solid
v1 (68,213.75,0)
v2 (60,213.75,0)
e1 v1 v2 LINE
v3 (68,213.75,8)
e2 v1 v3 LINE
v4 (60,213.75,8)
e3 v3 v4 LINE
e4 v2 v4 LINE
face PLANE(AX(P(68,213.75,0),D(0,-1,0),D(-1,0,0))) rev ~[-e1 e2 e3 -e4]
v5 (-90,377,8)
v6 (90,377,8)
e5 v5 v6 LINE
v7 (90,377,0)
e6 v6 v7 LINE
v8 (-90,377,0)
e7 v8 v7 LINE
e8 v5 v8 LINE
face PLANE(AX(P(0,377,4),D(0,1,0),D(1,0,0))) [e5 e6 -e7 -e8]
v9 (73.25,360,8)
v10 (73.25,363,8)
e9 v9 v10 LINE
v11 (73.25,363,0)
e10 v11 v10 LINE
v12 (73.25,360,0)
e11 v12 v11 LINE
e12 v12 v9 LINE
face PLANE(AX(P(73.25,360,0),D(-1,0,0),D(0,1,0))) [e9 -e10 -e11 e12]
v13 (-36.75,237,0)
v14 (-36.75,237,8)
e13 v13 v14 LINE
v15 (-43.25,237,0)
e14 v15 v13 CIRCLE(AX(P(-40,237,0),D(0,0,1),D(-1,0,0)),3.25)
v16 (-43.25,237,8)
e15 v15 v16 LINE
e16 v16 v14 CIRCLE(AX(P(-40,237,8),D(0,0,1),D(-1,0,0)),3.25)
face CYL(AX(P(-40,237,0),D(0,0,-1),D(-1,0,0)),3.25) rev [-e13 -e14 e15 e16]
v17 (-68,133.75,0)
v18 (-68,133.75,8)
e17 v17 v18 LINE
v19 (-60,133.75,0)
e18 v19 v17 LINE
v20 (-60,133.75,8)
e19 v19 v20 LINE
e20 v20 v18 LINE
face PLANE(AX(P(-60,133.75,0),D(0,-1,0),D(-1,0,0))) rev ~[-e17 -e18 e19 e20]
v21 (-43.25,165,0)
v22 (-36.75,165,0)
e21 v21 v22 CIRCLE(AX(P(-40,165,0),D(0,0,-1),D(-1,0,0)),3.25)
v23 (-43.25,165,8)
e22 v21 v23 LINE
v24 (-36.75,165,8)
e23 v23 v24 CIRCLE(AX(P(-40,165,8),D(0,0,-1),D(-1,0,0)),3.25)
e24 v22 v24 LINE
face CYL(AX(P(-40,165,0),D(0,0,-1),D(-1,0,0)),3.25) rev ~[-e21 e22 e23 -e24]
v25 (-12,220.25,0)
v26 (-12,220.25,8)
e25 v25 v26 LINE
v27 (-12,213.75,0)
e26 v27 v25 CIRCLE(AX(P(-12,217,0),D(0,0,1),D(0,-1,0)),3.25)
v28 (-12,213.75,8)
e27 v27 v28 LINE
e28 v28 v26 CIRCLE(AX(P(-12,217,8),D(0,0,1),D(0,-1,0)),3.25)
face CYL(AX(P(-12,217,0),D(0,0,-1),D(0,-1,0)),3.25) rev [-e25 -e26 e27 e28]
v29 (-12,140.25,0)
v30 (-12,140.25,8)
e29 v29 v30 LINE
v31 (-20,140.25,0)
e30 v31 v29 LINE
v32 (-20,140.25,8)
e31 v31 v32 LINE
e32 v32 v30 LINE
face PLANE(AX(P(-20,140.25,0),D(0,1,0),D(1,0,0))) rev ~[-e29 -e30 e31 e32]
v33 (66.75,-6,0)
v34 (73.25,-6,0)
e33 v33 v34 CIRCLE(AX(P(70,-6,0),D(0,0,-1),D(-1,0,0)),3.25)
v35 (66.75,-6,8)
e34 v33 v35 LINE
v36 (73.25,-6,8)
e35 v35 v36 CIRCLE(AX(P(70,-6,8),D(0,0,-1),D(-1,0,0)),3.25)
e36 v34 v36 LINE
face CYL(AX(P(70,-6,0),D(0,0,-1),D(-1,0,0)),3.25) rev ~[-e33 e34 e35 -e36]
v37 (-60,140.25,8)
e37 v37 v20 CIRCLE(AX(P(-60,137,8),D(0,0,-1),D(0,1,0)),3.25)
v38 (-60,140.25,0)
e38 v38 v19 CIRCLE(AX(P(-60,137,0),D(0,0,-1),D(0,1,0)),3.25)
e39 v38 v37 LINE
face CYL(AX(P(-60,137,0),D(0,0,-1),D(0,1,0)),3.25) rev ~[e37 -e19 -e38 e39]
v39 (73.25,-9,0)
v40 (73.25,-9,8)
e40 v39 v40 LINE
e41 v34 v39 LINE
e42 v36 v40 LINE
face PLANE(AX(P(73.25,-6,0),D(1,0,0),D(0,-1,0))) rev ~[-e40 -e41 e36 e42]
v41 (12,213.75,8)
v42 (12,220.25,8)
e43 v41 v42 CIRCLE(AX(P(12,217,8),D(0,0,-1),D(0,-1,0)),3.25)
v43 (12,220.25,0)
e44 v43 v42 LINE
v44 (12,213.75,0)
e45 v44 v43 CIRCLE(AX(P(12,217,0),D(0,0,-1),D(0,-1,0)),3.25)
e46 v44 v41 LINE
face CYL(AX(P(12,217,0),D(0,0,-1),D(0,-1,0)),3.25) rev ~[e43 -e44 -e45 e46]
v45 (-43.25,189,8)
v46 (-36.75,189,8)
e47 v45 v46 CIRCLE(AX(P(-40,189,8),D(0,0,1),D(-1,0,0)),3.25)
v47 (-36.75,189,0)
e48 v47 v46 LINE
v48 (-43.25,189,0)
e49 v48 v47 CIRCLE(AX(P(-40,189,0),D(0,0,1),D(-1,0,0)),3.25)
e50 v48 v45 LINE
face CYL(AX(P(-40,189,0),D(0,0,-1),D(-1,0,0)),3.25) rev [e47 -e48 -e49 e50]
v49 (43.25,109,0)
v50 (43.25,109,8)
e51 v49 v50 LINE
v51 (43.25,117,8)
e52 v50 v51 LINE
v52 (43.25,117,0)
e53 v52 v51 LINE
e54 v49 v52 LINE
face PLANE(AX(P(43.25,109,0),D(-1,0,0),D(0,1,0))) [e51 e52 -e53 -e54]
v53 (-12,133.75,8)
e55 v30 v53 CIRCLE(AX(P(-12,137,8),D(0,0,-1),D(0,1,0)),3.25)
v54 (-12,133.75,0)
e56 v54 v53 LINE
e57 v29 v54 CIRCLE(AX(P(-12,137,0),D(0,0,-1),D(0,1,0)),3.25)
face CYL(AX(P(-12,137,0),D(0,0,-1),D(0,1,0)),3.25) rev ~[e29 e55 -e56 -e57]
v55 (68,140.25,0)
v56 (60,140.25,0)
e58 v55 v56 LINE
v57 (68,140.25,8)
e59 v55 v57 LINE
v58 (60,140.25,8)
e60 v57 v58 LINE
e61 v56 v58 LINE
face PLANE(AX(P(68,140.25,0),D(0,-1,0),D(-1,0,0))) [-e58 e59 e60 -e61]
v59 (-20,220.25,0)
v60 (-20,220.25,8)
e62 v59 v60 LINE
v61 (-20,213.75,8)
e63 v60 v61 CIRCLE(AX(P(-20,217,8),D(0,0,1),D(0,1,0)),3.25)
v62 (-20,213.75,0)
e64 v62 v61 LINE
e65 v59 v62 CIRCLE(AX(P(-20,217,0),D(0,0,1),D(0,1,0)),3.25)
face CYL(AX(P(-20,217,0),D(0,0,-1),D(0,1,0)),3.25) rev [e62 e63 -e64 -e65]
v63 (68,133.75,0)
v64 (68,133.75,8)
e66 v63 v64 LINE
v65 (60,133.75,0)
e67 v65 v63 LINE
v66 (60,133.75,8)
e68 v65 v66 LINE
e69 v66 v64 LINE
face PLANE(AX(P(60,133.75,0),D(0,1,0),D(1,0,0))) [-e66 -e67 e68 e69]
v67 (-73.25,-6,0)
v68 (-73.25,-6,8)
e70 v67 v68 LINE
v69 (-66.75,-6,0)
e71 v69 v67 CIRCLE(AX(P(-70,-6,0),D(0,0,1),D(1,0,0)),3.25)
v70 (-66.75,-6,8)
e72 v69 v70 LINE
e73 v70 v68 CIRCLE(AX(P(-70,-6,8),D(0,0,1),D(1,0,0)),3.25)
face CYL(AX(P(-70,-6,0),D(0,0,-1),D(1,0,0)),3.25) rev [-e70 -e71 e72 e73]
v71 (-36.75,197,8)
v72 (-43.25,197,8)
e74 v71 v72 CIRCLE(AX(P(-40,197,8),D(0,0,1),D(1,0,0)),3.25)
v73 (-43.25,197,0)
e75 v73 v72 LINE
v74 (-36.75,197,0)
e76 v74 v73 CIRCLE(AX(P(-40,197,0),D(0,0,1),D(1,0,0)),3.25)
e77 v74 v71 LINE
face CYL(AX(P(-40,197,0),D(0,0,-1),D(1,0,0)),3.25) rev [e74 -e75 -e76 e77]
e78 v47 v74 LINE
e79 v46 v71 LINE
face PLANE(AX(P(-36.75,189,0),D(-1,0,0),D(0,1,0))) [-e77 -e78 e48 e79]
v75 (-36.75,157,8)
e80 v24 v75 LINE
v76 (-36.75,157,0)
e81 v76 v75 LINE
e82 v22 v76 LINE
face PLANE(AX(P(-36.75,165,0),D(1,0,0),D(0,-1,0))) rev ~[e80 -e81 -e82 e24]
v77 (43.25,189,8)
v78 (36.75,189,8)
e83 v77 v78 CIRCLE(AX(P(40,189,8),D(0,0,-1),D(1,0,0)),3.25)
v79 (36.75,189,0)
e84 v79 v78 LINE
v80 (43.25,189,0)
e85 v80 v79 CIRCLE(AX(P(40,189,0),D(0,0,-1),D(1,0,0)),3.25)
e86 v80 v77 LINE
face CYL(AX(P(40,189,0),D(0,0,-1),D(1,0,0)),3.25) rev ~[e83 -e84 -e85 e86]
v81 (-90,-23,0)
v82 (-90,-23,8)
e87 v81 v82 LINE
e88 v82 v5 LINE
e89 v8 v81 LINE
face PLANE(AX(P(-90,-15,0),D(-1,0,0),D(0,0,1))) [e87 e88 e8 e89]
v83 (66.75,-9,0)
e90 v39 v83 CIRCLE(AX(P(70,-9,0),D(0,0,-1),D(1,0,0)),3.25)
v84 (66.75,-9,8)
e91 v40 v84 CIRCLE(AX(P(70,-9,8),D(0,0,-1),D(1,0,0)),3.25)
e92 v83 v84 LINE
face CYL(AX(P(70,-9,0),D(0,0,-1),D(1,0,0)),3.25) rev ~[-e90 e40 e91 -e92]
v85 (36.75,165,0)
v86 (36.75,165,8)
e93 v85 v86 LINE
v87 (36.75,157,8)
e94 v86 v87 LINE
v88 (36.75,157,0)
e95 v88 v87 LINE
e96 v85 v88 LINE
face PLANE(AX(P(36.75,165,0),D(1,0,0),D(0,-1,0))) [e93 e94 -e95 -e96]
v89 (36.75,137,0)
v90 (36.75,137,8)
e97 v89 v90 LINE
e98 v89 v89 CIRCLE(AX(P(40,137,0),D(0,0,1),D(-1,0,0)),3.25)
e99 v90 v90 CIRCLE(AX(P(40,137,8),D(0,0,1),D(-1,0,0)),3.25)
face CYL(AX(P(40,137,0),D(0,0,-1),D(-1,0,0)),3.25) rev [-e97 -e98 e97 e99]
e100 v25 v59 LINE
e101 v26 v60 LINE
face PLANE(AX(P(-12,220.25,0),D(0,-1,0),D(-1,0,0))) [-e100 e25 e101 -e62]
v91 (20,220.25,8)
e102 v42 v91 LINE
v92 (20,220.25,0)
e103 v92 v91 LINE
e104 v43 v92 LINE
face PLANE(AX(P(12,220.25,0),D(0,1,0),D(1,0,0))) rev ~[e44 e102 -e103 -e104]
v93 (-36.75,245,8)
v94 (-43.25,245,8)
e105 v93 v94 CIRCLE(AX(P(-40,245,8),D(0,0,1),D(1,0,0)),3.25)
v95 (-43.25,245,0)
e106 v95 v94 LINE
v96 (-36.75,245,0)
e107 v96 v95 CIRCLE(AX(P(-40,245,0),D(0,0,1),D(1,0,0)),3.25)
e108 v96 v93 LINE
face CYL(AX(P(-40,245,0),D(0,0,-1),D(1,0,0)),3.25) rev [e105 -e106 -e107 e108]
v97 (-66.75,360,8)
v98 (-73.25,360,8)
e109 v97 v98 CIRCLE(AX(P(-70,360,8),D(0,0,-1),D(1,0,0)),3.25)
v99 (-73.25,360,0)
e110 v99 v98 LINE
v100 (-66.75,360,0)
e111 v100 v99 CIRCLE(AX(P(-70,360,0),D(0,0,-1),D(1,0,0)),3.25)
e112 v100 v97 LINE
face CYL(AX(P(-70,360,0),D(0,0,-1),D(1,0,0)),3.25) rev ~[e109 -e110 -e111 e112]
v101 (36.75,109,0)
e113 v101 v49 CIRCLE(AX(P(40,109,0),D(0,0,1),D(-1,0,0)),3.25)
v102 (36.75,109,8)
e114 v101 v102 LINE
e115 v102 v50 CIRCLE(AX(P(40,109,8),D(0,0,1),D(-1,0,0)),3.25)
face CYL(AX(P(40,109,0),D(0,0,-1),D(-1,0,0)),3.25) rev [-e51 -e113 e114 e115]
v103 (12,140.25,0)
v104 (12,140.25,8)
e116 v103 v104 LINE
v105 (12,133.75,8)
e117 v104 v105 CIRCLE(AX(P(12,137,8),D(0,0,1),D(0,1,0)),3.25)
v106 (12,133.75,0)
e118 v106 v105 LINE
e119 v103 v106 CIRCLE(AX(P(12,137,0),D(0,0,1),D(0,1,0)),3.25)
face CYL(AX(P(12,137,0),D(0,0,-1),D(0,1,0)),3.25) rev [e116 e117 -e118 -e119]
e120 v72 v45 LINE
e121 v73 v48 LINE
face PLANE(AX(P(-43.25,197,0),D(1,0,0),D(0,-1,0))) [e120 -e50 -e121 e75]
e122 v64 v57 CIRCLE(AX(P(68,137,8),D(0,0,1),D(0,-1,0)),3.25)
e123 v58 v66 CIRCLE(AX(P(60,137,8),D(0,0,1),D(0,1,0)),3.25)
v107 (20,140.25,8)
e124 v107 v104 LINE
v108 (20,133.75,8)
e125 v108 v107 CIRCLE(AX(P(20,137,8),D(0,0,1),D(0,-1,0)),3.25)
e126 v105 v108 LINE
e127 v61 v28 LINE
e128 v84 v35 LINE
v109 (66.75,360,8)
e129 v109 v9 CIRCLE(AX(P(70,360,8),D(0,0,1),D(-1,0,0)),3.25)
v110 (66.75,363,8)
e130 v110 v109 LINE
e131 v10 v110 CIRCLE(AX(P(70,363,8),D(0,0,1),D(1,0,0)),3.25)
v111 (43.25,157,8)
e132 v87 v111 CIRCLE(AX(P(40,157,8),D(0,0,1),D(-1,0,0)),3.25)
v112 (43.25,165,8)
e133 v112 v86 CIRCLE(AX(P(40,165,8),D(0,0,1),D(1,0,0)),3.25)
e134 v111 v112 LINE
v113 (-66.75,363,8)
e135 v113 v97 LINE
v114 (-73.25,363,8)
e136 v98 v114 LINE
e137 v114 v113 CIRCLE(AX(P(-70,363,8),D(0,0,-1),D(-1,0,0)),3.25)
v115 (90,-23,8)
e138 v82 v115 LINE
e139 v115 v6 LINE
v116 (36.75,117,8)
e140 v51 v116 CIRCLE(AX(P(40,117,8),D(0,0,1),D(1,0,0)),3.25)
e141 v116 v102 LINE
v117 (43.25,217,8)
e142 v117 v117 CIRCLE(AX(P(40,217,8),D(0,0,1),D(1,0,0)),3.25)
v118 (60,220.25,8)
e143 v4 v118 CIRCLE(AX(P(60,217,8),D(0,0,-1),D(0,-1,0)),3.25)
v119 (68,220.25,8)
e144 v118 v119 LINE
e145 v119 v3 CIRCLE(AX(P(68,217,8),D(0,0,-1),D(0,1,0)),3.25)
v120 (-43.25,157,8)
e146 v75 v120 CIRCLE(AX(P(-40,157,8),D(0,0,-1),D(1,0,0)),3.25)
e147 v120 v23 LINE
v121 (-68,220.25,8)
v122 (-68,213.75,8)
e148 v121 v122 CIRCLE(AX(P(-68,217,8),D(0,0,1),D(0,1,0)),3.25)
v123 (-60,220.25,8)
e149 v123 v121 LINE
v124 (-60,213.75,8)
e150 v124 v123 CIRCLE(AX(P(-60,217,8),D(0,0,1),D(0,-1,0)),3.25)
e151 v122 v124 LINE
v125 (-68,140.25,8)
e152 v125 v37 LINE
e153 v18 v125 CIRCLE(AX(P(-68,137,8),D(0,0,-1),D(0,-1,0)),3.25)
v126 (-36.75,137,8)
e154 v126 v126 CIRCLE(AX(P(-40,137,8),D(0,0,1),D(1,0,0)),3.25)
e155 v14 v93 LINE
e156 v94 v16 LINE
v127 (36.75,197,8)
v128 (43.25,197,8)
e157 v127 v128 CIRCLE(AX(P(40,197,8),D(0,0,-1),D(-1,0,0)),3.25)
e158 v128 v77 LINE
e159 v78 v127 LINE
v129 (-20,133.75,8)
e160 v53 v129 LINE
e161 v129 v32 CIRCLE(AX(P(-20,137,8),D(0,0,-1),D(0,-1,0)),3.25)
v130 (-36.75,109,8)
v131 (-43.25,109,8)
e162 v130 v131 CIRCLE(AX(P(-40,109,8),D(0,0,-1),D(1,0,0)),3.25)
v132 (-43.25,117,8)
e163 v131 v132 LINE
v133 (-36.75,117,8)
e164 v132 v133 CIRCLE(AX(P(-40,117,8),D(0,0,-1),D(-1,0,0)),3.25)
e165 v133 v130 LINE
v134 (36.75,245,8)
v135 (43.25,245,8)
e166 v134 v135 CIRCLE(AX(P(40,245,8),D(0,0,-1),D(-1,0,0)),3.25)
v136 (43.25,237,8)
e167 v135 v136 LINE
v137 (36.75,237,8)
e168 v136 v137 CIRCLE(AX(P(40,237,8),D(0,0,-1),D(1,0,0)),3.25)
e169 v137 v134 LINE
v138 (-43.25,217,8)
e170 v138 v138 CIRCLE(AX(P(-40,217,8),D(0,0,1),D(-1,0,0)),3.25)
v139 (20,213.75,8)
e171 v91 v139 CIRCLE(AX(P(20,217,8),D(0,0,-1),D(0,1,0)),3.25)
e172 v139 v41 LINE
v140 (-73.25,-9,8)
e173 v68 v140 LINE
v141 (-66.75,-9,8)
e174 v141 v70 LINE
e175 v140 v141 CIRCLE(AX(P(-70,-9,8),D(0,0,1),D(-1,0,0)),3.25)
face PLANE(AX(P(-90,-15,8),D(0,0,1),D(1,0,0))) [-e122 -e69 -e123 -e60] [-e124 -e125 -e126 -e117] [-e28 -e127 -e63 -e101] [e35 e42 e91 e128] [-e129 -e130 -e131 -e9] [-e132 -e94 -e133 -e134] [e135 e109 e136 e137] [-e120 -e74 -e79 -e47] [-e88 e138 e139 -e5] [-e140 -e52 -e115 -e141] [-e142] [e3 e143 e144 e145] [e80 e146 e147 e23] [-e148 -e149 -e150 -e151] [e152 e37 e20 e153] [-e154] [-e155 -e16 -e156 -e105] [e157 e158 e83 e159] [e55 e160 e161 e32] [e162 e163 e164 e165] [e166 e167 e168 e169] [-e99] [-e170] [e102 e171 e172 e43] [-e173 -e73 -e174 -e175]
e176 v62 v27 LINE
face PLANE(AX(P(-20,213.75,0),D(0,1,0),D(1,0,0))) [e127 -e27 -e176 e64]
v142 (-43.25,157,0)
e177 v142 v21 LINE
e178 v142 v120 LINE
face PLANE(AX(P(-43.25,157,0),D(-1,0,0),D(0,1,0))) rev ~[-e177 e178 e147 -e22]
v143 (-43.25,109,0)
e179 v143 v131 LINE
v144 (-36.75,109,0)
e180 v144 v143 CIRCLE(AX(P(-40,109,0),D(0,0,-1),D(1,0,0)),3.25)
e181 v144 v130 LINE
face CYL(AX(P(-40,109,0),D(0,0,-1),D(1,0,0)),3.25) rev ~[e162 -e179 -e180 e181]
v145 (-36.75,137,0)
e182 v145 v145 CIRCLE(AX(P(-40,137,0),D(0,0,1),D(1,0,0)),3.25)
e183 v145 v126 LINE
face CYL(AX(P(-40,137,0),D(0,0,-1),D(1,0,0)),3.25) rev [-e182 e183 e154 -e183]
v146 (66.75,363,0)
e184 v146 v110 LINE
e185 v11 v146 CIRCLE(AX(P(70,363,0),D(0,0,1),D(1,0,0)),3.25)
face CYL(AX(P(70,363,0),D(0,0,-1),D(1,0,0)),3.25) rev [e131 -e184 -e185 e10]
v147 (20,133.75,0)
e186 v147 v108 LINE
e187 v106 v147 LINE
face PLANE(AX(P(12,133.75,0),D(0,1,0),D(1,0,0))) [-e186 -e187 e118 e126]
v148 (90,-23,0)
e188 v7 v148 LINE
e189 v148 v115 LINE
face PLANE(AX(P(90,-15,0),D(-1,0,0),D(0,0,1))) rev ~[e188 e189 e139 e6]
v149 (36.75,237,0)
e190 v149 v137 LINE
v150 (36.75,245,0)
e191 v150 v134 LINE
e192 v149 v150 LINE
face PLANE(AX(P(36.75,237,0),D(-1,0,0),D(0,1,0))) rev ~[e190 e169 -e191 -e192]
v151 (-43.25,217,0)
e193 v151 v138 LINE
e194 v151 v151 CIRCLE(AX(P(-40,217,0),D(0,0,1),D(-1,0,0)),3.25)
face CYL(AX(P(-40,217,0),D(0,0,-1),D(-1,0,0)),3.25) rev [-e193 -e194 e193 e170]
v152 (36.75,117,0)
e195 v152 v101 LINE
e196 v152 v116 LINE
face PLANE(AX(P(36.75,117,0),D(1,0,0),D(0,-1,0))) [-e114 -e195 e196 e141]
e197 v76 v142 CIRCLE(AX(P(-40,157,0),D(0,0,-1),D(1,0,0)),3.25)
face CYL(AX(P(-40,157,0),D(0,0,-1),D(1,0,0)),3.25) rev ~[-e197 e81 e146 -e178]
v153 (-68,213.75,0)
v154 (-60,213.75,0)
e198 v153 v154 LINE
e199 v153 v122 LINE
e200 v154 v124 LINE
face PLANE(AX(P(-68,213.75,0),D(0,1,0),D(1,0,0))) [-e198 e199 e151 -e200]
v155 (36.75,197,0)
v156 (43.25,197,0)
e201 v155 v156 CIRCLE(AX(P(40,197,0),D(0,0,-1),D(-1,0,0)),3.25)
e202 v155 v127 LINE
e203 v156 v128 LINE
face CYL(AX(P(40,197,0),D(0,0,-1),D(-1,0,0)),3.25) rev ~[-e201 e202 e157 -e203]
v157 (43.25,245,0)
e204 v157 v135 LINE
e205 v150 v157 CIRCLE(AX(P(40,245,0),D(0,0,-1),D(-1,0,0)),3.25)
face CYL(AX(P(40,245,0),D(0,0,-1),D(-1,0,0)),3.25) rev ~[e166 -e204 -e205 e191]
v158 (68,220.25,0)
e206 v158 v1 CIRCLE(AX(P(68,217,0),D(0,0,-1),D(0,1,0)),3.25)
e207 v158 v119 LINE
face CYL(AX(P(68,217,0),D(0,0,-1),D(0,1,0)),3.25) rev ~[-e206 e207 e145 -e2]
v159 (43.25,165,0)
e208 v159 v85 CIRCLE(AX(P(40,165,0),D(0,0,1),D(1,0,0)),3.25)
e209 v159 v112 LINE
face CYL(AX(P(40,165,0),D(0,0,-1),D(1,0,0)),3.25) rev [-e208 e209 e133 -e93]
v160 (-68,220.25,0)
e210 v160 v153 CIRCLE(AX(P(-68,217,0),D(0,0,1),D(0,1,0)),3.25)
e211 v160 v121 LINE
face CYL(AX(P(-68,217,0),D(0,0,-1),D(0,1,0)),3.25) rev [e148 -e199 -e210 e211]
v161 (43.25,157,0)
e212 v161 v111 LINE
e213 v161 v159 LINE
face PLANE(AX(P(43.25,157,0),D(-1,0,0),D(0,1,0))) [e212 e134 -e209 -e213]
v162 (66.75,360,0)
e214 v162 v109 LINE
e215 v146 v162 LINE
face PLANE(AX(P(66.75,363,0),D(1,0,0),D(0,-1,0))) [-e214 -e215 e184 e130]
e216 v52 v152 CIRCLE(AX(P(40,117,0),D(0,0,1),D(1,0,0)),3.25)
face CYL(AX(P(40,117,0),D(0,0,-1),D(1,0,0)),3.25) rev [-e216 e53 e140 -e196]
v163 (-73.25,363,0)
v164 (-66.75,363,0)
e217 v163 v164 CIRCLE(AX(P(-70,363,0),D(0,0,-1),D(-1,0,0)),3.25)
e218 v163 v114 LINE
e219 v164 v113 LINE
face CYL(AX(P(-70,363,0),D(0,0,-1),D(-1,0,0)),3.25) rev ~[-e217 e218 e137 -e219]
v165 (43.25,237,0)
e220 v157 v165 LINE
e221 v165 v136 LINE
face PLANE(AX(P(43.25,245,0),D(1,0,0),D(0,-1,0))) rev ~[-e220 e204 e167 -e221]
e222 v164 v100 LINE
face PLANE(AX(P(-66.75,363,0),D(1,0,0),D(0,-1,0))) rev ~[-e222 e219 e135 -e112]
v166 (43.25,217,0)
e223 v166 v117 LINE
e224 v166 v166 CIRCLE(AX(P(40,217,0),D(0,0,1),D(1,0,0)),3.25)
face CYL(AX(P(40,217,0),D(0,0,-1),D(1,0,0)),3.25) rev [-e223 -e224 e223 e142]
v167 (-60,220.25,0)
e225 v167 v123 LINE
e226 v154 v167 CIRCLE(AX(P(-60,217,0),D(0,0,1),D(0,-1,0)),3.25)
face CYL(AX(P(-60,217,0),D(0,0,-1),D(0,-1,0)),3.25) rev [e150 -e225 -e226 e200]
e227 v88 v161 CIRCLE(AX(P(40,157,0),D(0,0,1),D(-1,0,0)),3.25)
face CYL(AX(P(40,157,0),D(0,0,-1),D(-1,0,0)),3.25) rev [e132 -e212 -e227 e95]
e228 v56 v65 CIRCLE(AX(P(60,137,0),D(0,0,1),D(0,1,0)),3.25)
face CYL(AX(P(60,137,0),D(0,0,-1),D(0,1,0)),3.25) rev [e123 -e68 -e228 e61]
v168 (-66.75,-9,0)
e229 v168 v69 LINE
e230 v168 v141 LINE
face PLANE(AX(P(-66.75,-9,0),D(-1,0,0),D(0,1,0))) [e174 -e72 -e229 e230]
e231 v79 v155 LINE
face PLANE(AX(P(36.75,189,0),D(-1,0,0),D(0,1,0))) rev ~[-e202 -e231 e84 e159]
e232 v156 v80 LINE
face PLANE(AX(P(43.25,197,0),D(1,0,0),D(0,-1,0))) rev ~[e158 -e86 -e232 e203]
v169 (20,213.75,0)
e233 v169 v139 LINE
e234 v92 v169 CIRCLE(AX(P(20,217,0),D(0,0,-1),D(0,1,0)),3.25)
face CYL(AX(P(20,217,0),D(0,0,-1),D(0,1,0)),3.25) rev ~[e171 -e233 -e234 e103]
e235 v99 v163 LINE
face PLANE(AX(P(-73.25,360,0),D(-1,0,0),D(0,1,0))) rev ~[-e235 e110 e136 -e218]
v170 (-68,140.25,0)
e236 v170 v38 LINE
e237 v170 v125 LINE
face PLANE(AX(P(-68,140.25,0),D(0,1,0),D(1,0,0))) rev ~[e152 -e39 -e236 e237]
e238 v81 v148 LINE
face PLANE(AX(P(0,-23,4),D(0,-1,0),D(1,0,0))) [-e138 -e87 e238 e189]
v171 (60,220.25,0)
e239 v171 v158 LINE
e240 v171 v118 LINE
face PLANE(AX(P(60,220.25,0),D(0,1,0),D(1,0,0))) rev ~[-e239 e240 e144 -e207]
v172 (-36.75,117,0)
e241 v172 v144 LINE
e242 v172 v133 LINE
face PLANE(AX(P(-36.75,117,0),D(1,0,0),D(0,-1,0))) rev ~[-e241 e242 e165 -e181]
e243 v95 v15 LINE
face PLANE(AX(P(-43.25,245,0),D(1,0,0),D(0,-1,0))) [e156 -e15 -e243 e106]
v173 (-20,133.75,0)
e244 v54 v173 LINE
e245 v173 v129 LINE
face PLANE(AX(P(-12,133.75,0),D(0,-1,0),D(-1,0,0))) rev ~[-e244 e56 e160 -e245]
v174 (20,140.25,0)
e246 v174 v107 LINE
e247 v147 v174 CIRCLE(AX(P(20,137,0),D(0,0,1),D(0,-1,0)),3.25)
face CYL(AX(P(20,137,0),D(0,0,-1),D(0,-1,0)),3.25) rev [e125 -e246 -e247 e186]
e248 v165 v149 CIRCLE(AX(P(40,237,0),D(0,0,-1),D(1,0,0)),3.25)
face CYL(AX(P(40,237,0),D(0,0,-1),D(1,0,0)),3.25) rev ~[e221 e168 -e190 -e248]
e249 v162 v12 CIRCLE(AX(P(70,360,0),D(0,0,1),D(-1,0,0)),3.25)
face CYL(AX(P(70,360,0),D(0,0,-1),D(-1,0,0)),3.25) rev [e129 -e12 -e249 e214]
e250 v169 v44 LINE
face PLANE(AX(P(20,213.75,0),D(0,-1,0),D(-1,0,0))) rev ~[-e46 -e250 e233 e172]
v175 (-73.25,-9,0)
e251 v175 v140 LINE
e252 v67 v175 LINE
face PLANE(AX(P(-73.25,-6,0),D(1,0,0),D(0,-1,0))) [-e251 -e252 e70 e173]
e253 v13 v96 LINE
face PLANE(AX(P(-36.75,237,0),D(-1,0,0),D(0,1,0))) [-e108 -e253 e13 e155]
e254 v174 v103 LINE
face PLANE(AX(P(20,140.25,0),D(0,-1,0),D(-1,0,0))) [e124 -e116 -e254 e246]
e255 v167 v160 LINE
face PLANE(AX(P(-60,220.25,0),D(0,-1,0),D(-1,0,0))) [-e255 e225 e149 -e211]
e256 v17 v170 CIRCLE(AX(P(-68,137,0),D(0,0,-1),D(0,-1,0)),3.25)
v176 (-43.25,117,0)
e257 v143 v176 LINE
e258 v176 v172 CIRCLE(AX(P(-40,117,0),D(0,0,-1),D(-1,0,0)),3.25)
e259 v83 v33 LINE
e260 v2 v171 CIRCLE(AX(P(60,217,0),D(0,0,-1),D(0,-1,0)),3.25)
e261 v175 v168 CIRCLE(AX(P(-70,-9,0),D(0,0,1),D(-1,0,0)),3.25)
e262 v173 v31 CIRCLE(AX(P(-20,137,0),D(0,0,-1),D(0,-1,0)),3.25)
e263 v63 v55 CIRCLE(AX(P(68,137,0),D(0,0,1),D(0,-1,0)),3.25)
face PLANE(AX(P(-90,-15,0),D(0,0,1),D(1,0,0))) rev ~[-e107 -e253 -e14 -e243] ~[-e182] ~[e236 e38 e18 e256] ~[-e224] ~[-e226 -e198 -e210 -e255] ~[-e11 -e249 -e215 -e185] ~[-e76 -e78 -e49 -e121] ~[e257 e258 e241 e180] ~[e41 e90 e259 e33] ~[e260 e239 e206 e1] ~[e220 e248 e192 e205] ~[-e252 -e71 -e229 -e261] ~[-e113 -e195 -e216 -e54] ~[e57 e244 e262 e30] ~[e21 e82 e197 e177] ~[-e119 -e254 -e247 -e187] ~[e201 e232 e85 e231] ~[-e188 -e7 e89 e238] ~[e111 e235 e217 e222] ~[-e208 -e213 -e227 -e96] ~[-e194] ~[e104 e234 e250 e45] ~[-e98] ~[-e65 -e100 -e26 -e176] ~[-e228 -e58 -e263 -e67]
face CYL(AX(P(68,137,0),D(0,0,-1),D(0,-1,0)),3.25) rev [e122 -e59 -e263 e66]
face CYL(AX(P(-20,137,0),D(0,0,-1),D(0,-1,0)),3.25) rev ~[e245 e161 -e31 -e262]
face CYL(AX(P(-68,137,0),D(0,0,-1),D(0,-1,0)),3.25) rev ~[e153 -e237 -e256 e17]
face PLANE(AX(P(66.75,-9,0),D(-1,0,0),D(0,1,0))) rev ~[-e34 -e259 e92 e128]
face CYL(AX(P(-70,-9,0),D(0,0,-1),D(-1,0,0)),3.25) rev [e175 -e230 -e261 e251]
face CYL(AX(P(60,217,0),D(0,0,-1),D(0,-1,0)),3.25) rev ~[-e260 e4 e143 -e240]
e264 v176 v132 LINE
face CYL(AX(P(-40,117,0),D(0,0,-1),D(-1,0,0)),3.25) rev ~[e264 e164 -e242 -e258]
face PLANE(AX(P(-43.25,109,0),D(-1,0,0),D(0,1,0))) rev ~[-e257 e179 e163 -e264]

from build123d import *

# Parameters (mm, degrees)
SKETCH_1_W      = 180
SKETCH_1_H      = 384
SKETCH_1_R      = 3.25
EXTRUDE_1_DEPTH = 8
SKETCH_2_W      = 180
SKETCH_2_H      = 8
EXTRUDE_2_DEPTH = 8
SKETCH_3_W      = 180
SKETCH_3_H      = 8
EXTRUDE_3_DEPTH = 8


with BuildPart() as part:
    # 草图1 → 凸台-拉伸1 (new body)
    with BuildSketch(Plane.XY):
        with Locations((0, 177)):
            Rectangle(SKETCH_1_W, SKETCH_1_H)
        with Locations((40, 217)):
            Circle(SKETCH_1_R, mode=Mode.SUBTRACT)
        with Locations(Location((-40, 217, 0), (0, 0, 180))):
            Circle(SKETCH_1_R, mode=Mode.SUBTRACT)
        with Locations(Location((40, 137, 0), (0, 0, 180))):
            Circle(SKETCH_1_R, mode=Mode.SUBTRACT)
        with Locations((-40, 137)):
            Circle(SKETCH_1_R, mode=Mode.SUBTRACT)
        with BuildLine():
            Line((-73.25, 360), (-73.25, 363))
            ThreePointArc((-73.25, 363), (-70, 366.25), (-66.75, 363))
            Line((-66.75, 363), (-66.75, 360))
            ThreePointArc((-66.75, 360), (-70, 356.75), (-73.25, 360))
        make_face(mode=Mode.SUBTRACT)
        with BuildLine():
            Line((73.25, 360), (73.25, 363))
            ThreePointArc((73.25, 363), (70, 366.25), (66.75, 363))
            Line((66.75, 363), (66.75, 360))
            ThreePointArc((66.75, 360), (70, 356.75), (73.25, 360))
        make_face(mode=Mode.SUBTRACT)
        with BuildLine():
            Line((-73.25, -6), (-73.25, -9))
            ThreePointArc((-73.25, -9), (-70, -12.25), (-66.75, -9))
            Line((-66.75, -9), (-66.75, -6))
            ThreePointArc((-66.75, -6), (-70, -2.75), (-73.25, -6))
        make_face(mode=Mode.SUBTRACT)
        with BuildLine():
            Line((73.25, -6), (73.25, -9))
            ThreePointArc((73.25, -9), (70, -12.25), (66.75, -9))
            Line((66.75, -9), (66.75, -6))
            ThreePointArc((66.75, -6), (70, -2.75), (73.25, -6))
        make_face(mode=Mode.SUBTRACT)
        with BuildLine():
            Line((12, 220.25), (20, 220.25))
            ThreePointArc((20, 220.25), (23.25, 217), (20, 213.75))
            Line((20, 213.75), (12, 213.75))
            ThreePointArc((12, 213.75), (8.75, 217), (12, 220.25))
        make_face(mode=Mode.SUBTRACT)
        with BuildLine():
            Line((43.25, 245), (43.25, 237))
            ThreePointArc((43.25, 237), (40, 233.75), (36.75, 237))
            Line((36.75, 237), (36.75, 245))
            ThreePointArc((36.75, 245), (40, 248.25), (43.25, 245))
        make_face(mode=Mode.SUBTRACT)
        with BuildLine():
            Line((-43.25, 245), (-43.25, 237))
            ThreePointArc((-43.25, 237), (-40, 233.75), (-36.75, 237))
            Line((-36.75, 237), (-36.75, 245))
            ThreePointArc((-36.75, 245), (-40, 248.25), (-43.25, 245))
        make_face(mode=Mode.SUBTRACT)
        with BuildLine():
            Line((-12, 220.25), (-20, 220.25))
            ThreePointArc((-20, 220.25), (-23.25, 217), (-20, 213.75))
            Line((-20, 213.75), (-12, 213.75))
            ThreePointArc((-12, 213.75), (-8.75, 217), (-12, 220.25))
        make_face(mode=Mode.SUBTRACT)
        with BuildLine():
            Line((-36.75, 189), (-36.75, 197))
            ThreePointArc((-36.75, 197), (-40, 200.25), (-43.25, 197))
            Line((-43.25, 197), (-43.25, 189))
            ThreePointArc((-43.25, 189), (-40, 185.75), (-36.75, 189))
        make_face(mode=Mode.SUBTRACT)
        with BuildLine():
            Line((-68, 213.75), (-60, 213.75))
            ThreePointArc((-60, 213.75), (-56.75, 217), (-60, 220.25))
            Line((-60, 220.25), (-68, 220.25))
            ThreePointArc((-68, 220.25), (-71.25, 217), (-68, 213.75))
        make_face(mode=Mode.SUBTRACT)
        with BuildLine():
            Line((68, 213.75), (60, 213.75))
            ThreePointArc((60, 213.75), (56.75, 217), (60, 220.25))
            Line((60, 220.25), (68, 220.25))
            ThreePointArc((68, 220.25), (71.25, 217), (68, 213.75))
        make_face(mode=Mode.SUBTRACT)
        with BuildLine():
            Line((36.75, 189), (36.75, 197))
            ThreePointArc((36.75, 197), (40, 200.25), (43.25, 197))
            Line((43.25, 197), (43.25, 189))
            ThreePointArc((43.25, 189), (40, 185.75), (36.75, 189))
        make_face(mode=Mode.SUBTRACT)
        with BuildLine():
            Line((-68, 140.25), (-60, 140.25))
            ThreePointArc((-60, 140.25), (-56.75, 137), (-60, 133.75))
            Line((-60, 133.75), (-68, 133.75))
            ThreePointArc((-68, 133.75), (-71.25, 137), (-68, 140.25))
        make_face(mode=Mode.SUBTRACT)
        with BuildLine():
            Line((-43.25, 109), (-43.25, 117))
            ThreePointArc((-43.25, 117), (-40, 120.25), (-36.75, 117))
            Line((-36.75, 117), (-36.75, 109))
            ThreePointArc((-36.75, 109), (-40, 105.75), (-43.25, 109))
        make_face(mode=Mode.SUBTRACT)
        with BuildLine():
            Line((-12, 133.75), (-20, 133.75))
            ThreePointArc((-20, 133.75), (-23.25, 137), (-20, 140.25))
            Line((-20, 140.25), (-12, 140.25))
            ThreePointArc((-12, 140.25), (-8.75, 137), (-12, 133.75))
        make_face(mode=Mode.SUBTRACT)
        with BuildLine():
            Line((-36.75, 165), (-36.75, 157))
            ThreePointArc((-36.75, 157), (-40, 153.75), (-43.25, 157))
            Line((-43.25, 157), (-43.25, 165))
            ThreePointArc((-43.25, 165), (-40, 168.25), (-36.75, 165))
        make_face(mode=Mode.SUBTRACT)
        with BuildLine():
            Line((43.25, 109), (43.25, 117))
            ThreePointArc((43.25, 117), (40, 120.25), (36.75, 117))
            Line((36.75, 117), (36.75, 109))
            ThreePointArc((36.75, 109), (40, 105.75), (43.25, 109))
        make_face(mode=Mode.SUBTRACT)
        with BuildLine():
            Line((12, 133.75), (20, 133.75))
            ThreePointArc((20, 133.75), (23.25, 137), (20, 140.25))
            Line((20, 140.25), (12, 140.25))
            ThreePointArc((12, 140.25), (8.75, 137), (12, 133.75))
        make_face(mode=Mode.SUBTRACT)
        with BuildLine():
            Line((68, 140.25), (60, 140.25))
            ThreePointArc((60, 140.25), (56.75, 137), (60, 133.75))
            Line((60, 133.75), (68, 133.75))
            ThreePointArc((68, 133.75), (71.25, 137), (68, 140.25))
        make_face(mode=Mode.SUBTRACT)
        with BuildLine():
            Line((36.75, 165), (36.75, 157))
            ThreePointArc((36.75, 157), (40, 153.75), (43.25, 157))
            Line((43.25, 157), (43.25, 165))
            ThreePointArc((43.25, 165), (40, 168.25), (36.75, 165))
        make_face(mode=Mode.SUBTRACT)
    extrude(amount=EXTRUDE_1_DEPTH)

    # 草图2 → 凸台-拉伸2 (add)
    with BuildSketch(Plane(origin=(0, 369, 0), x_dir=(1, 0, 0), z_dir=(0, 1, 0))):
        with Locations((0, -4)):
            Rectangle(SKETCH_2_W, SKETCH_2_H)
    extrude(amount=EXTRUDE_2_DEPTH)

    # 草图3 → 凸台-拉伸3 (add)
    with BuildSketch(Plane.XZ.offset(15)):
        with Locations((0, 4)):
            Rectangle(SKETCH_3_W, SKETCH_3_H)
    extrude(amount=EXTRUDE_3_DEPTH)


solid = part.part
